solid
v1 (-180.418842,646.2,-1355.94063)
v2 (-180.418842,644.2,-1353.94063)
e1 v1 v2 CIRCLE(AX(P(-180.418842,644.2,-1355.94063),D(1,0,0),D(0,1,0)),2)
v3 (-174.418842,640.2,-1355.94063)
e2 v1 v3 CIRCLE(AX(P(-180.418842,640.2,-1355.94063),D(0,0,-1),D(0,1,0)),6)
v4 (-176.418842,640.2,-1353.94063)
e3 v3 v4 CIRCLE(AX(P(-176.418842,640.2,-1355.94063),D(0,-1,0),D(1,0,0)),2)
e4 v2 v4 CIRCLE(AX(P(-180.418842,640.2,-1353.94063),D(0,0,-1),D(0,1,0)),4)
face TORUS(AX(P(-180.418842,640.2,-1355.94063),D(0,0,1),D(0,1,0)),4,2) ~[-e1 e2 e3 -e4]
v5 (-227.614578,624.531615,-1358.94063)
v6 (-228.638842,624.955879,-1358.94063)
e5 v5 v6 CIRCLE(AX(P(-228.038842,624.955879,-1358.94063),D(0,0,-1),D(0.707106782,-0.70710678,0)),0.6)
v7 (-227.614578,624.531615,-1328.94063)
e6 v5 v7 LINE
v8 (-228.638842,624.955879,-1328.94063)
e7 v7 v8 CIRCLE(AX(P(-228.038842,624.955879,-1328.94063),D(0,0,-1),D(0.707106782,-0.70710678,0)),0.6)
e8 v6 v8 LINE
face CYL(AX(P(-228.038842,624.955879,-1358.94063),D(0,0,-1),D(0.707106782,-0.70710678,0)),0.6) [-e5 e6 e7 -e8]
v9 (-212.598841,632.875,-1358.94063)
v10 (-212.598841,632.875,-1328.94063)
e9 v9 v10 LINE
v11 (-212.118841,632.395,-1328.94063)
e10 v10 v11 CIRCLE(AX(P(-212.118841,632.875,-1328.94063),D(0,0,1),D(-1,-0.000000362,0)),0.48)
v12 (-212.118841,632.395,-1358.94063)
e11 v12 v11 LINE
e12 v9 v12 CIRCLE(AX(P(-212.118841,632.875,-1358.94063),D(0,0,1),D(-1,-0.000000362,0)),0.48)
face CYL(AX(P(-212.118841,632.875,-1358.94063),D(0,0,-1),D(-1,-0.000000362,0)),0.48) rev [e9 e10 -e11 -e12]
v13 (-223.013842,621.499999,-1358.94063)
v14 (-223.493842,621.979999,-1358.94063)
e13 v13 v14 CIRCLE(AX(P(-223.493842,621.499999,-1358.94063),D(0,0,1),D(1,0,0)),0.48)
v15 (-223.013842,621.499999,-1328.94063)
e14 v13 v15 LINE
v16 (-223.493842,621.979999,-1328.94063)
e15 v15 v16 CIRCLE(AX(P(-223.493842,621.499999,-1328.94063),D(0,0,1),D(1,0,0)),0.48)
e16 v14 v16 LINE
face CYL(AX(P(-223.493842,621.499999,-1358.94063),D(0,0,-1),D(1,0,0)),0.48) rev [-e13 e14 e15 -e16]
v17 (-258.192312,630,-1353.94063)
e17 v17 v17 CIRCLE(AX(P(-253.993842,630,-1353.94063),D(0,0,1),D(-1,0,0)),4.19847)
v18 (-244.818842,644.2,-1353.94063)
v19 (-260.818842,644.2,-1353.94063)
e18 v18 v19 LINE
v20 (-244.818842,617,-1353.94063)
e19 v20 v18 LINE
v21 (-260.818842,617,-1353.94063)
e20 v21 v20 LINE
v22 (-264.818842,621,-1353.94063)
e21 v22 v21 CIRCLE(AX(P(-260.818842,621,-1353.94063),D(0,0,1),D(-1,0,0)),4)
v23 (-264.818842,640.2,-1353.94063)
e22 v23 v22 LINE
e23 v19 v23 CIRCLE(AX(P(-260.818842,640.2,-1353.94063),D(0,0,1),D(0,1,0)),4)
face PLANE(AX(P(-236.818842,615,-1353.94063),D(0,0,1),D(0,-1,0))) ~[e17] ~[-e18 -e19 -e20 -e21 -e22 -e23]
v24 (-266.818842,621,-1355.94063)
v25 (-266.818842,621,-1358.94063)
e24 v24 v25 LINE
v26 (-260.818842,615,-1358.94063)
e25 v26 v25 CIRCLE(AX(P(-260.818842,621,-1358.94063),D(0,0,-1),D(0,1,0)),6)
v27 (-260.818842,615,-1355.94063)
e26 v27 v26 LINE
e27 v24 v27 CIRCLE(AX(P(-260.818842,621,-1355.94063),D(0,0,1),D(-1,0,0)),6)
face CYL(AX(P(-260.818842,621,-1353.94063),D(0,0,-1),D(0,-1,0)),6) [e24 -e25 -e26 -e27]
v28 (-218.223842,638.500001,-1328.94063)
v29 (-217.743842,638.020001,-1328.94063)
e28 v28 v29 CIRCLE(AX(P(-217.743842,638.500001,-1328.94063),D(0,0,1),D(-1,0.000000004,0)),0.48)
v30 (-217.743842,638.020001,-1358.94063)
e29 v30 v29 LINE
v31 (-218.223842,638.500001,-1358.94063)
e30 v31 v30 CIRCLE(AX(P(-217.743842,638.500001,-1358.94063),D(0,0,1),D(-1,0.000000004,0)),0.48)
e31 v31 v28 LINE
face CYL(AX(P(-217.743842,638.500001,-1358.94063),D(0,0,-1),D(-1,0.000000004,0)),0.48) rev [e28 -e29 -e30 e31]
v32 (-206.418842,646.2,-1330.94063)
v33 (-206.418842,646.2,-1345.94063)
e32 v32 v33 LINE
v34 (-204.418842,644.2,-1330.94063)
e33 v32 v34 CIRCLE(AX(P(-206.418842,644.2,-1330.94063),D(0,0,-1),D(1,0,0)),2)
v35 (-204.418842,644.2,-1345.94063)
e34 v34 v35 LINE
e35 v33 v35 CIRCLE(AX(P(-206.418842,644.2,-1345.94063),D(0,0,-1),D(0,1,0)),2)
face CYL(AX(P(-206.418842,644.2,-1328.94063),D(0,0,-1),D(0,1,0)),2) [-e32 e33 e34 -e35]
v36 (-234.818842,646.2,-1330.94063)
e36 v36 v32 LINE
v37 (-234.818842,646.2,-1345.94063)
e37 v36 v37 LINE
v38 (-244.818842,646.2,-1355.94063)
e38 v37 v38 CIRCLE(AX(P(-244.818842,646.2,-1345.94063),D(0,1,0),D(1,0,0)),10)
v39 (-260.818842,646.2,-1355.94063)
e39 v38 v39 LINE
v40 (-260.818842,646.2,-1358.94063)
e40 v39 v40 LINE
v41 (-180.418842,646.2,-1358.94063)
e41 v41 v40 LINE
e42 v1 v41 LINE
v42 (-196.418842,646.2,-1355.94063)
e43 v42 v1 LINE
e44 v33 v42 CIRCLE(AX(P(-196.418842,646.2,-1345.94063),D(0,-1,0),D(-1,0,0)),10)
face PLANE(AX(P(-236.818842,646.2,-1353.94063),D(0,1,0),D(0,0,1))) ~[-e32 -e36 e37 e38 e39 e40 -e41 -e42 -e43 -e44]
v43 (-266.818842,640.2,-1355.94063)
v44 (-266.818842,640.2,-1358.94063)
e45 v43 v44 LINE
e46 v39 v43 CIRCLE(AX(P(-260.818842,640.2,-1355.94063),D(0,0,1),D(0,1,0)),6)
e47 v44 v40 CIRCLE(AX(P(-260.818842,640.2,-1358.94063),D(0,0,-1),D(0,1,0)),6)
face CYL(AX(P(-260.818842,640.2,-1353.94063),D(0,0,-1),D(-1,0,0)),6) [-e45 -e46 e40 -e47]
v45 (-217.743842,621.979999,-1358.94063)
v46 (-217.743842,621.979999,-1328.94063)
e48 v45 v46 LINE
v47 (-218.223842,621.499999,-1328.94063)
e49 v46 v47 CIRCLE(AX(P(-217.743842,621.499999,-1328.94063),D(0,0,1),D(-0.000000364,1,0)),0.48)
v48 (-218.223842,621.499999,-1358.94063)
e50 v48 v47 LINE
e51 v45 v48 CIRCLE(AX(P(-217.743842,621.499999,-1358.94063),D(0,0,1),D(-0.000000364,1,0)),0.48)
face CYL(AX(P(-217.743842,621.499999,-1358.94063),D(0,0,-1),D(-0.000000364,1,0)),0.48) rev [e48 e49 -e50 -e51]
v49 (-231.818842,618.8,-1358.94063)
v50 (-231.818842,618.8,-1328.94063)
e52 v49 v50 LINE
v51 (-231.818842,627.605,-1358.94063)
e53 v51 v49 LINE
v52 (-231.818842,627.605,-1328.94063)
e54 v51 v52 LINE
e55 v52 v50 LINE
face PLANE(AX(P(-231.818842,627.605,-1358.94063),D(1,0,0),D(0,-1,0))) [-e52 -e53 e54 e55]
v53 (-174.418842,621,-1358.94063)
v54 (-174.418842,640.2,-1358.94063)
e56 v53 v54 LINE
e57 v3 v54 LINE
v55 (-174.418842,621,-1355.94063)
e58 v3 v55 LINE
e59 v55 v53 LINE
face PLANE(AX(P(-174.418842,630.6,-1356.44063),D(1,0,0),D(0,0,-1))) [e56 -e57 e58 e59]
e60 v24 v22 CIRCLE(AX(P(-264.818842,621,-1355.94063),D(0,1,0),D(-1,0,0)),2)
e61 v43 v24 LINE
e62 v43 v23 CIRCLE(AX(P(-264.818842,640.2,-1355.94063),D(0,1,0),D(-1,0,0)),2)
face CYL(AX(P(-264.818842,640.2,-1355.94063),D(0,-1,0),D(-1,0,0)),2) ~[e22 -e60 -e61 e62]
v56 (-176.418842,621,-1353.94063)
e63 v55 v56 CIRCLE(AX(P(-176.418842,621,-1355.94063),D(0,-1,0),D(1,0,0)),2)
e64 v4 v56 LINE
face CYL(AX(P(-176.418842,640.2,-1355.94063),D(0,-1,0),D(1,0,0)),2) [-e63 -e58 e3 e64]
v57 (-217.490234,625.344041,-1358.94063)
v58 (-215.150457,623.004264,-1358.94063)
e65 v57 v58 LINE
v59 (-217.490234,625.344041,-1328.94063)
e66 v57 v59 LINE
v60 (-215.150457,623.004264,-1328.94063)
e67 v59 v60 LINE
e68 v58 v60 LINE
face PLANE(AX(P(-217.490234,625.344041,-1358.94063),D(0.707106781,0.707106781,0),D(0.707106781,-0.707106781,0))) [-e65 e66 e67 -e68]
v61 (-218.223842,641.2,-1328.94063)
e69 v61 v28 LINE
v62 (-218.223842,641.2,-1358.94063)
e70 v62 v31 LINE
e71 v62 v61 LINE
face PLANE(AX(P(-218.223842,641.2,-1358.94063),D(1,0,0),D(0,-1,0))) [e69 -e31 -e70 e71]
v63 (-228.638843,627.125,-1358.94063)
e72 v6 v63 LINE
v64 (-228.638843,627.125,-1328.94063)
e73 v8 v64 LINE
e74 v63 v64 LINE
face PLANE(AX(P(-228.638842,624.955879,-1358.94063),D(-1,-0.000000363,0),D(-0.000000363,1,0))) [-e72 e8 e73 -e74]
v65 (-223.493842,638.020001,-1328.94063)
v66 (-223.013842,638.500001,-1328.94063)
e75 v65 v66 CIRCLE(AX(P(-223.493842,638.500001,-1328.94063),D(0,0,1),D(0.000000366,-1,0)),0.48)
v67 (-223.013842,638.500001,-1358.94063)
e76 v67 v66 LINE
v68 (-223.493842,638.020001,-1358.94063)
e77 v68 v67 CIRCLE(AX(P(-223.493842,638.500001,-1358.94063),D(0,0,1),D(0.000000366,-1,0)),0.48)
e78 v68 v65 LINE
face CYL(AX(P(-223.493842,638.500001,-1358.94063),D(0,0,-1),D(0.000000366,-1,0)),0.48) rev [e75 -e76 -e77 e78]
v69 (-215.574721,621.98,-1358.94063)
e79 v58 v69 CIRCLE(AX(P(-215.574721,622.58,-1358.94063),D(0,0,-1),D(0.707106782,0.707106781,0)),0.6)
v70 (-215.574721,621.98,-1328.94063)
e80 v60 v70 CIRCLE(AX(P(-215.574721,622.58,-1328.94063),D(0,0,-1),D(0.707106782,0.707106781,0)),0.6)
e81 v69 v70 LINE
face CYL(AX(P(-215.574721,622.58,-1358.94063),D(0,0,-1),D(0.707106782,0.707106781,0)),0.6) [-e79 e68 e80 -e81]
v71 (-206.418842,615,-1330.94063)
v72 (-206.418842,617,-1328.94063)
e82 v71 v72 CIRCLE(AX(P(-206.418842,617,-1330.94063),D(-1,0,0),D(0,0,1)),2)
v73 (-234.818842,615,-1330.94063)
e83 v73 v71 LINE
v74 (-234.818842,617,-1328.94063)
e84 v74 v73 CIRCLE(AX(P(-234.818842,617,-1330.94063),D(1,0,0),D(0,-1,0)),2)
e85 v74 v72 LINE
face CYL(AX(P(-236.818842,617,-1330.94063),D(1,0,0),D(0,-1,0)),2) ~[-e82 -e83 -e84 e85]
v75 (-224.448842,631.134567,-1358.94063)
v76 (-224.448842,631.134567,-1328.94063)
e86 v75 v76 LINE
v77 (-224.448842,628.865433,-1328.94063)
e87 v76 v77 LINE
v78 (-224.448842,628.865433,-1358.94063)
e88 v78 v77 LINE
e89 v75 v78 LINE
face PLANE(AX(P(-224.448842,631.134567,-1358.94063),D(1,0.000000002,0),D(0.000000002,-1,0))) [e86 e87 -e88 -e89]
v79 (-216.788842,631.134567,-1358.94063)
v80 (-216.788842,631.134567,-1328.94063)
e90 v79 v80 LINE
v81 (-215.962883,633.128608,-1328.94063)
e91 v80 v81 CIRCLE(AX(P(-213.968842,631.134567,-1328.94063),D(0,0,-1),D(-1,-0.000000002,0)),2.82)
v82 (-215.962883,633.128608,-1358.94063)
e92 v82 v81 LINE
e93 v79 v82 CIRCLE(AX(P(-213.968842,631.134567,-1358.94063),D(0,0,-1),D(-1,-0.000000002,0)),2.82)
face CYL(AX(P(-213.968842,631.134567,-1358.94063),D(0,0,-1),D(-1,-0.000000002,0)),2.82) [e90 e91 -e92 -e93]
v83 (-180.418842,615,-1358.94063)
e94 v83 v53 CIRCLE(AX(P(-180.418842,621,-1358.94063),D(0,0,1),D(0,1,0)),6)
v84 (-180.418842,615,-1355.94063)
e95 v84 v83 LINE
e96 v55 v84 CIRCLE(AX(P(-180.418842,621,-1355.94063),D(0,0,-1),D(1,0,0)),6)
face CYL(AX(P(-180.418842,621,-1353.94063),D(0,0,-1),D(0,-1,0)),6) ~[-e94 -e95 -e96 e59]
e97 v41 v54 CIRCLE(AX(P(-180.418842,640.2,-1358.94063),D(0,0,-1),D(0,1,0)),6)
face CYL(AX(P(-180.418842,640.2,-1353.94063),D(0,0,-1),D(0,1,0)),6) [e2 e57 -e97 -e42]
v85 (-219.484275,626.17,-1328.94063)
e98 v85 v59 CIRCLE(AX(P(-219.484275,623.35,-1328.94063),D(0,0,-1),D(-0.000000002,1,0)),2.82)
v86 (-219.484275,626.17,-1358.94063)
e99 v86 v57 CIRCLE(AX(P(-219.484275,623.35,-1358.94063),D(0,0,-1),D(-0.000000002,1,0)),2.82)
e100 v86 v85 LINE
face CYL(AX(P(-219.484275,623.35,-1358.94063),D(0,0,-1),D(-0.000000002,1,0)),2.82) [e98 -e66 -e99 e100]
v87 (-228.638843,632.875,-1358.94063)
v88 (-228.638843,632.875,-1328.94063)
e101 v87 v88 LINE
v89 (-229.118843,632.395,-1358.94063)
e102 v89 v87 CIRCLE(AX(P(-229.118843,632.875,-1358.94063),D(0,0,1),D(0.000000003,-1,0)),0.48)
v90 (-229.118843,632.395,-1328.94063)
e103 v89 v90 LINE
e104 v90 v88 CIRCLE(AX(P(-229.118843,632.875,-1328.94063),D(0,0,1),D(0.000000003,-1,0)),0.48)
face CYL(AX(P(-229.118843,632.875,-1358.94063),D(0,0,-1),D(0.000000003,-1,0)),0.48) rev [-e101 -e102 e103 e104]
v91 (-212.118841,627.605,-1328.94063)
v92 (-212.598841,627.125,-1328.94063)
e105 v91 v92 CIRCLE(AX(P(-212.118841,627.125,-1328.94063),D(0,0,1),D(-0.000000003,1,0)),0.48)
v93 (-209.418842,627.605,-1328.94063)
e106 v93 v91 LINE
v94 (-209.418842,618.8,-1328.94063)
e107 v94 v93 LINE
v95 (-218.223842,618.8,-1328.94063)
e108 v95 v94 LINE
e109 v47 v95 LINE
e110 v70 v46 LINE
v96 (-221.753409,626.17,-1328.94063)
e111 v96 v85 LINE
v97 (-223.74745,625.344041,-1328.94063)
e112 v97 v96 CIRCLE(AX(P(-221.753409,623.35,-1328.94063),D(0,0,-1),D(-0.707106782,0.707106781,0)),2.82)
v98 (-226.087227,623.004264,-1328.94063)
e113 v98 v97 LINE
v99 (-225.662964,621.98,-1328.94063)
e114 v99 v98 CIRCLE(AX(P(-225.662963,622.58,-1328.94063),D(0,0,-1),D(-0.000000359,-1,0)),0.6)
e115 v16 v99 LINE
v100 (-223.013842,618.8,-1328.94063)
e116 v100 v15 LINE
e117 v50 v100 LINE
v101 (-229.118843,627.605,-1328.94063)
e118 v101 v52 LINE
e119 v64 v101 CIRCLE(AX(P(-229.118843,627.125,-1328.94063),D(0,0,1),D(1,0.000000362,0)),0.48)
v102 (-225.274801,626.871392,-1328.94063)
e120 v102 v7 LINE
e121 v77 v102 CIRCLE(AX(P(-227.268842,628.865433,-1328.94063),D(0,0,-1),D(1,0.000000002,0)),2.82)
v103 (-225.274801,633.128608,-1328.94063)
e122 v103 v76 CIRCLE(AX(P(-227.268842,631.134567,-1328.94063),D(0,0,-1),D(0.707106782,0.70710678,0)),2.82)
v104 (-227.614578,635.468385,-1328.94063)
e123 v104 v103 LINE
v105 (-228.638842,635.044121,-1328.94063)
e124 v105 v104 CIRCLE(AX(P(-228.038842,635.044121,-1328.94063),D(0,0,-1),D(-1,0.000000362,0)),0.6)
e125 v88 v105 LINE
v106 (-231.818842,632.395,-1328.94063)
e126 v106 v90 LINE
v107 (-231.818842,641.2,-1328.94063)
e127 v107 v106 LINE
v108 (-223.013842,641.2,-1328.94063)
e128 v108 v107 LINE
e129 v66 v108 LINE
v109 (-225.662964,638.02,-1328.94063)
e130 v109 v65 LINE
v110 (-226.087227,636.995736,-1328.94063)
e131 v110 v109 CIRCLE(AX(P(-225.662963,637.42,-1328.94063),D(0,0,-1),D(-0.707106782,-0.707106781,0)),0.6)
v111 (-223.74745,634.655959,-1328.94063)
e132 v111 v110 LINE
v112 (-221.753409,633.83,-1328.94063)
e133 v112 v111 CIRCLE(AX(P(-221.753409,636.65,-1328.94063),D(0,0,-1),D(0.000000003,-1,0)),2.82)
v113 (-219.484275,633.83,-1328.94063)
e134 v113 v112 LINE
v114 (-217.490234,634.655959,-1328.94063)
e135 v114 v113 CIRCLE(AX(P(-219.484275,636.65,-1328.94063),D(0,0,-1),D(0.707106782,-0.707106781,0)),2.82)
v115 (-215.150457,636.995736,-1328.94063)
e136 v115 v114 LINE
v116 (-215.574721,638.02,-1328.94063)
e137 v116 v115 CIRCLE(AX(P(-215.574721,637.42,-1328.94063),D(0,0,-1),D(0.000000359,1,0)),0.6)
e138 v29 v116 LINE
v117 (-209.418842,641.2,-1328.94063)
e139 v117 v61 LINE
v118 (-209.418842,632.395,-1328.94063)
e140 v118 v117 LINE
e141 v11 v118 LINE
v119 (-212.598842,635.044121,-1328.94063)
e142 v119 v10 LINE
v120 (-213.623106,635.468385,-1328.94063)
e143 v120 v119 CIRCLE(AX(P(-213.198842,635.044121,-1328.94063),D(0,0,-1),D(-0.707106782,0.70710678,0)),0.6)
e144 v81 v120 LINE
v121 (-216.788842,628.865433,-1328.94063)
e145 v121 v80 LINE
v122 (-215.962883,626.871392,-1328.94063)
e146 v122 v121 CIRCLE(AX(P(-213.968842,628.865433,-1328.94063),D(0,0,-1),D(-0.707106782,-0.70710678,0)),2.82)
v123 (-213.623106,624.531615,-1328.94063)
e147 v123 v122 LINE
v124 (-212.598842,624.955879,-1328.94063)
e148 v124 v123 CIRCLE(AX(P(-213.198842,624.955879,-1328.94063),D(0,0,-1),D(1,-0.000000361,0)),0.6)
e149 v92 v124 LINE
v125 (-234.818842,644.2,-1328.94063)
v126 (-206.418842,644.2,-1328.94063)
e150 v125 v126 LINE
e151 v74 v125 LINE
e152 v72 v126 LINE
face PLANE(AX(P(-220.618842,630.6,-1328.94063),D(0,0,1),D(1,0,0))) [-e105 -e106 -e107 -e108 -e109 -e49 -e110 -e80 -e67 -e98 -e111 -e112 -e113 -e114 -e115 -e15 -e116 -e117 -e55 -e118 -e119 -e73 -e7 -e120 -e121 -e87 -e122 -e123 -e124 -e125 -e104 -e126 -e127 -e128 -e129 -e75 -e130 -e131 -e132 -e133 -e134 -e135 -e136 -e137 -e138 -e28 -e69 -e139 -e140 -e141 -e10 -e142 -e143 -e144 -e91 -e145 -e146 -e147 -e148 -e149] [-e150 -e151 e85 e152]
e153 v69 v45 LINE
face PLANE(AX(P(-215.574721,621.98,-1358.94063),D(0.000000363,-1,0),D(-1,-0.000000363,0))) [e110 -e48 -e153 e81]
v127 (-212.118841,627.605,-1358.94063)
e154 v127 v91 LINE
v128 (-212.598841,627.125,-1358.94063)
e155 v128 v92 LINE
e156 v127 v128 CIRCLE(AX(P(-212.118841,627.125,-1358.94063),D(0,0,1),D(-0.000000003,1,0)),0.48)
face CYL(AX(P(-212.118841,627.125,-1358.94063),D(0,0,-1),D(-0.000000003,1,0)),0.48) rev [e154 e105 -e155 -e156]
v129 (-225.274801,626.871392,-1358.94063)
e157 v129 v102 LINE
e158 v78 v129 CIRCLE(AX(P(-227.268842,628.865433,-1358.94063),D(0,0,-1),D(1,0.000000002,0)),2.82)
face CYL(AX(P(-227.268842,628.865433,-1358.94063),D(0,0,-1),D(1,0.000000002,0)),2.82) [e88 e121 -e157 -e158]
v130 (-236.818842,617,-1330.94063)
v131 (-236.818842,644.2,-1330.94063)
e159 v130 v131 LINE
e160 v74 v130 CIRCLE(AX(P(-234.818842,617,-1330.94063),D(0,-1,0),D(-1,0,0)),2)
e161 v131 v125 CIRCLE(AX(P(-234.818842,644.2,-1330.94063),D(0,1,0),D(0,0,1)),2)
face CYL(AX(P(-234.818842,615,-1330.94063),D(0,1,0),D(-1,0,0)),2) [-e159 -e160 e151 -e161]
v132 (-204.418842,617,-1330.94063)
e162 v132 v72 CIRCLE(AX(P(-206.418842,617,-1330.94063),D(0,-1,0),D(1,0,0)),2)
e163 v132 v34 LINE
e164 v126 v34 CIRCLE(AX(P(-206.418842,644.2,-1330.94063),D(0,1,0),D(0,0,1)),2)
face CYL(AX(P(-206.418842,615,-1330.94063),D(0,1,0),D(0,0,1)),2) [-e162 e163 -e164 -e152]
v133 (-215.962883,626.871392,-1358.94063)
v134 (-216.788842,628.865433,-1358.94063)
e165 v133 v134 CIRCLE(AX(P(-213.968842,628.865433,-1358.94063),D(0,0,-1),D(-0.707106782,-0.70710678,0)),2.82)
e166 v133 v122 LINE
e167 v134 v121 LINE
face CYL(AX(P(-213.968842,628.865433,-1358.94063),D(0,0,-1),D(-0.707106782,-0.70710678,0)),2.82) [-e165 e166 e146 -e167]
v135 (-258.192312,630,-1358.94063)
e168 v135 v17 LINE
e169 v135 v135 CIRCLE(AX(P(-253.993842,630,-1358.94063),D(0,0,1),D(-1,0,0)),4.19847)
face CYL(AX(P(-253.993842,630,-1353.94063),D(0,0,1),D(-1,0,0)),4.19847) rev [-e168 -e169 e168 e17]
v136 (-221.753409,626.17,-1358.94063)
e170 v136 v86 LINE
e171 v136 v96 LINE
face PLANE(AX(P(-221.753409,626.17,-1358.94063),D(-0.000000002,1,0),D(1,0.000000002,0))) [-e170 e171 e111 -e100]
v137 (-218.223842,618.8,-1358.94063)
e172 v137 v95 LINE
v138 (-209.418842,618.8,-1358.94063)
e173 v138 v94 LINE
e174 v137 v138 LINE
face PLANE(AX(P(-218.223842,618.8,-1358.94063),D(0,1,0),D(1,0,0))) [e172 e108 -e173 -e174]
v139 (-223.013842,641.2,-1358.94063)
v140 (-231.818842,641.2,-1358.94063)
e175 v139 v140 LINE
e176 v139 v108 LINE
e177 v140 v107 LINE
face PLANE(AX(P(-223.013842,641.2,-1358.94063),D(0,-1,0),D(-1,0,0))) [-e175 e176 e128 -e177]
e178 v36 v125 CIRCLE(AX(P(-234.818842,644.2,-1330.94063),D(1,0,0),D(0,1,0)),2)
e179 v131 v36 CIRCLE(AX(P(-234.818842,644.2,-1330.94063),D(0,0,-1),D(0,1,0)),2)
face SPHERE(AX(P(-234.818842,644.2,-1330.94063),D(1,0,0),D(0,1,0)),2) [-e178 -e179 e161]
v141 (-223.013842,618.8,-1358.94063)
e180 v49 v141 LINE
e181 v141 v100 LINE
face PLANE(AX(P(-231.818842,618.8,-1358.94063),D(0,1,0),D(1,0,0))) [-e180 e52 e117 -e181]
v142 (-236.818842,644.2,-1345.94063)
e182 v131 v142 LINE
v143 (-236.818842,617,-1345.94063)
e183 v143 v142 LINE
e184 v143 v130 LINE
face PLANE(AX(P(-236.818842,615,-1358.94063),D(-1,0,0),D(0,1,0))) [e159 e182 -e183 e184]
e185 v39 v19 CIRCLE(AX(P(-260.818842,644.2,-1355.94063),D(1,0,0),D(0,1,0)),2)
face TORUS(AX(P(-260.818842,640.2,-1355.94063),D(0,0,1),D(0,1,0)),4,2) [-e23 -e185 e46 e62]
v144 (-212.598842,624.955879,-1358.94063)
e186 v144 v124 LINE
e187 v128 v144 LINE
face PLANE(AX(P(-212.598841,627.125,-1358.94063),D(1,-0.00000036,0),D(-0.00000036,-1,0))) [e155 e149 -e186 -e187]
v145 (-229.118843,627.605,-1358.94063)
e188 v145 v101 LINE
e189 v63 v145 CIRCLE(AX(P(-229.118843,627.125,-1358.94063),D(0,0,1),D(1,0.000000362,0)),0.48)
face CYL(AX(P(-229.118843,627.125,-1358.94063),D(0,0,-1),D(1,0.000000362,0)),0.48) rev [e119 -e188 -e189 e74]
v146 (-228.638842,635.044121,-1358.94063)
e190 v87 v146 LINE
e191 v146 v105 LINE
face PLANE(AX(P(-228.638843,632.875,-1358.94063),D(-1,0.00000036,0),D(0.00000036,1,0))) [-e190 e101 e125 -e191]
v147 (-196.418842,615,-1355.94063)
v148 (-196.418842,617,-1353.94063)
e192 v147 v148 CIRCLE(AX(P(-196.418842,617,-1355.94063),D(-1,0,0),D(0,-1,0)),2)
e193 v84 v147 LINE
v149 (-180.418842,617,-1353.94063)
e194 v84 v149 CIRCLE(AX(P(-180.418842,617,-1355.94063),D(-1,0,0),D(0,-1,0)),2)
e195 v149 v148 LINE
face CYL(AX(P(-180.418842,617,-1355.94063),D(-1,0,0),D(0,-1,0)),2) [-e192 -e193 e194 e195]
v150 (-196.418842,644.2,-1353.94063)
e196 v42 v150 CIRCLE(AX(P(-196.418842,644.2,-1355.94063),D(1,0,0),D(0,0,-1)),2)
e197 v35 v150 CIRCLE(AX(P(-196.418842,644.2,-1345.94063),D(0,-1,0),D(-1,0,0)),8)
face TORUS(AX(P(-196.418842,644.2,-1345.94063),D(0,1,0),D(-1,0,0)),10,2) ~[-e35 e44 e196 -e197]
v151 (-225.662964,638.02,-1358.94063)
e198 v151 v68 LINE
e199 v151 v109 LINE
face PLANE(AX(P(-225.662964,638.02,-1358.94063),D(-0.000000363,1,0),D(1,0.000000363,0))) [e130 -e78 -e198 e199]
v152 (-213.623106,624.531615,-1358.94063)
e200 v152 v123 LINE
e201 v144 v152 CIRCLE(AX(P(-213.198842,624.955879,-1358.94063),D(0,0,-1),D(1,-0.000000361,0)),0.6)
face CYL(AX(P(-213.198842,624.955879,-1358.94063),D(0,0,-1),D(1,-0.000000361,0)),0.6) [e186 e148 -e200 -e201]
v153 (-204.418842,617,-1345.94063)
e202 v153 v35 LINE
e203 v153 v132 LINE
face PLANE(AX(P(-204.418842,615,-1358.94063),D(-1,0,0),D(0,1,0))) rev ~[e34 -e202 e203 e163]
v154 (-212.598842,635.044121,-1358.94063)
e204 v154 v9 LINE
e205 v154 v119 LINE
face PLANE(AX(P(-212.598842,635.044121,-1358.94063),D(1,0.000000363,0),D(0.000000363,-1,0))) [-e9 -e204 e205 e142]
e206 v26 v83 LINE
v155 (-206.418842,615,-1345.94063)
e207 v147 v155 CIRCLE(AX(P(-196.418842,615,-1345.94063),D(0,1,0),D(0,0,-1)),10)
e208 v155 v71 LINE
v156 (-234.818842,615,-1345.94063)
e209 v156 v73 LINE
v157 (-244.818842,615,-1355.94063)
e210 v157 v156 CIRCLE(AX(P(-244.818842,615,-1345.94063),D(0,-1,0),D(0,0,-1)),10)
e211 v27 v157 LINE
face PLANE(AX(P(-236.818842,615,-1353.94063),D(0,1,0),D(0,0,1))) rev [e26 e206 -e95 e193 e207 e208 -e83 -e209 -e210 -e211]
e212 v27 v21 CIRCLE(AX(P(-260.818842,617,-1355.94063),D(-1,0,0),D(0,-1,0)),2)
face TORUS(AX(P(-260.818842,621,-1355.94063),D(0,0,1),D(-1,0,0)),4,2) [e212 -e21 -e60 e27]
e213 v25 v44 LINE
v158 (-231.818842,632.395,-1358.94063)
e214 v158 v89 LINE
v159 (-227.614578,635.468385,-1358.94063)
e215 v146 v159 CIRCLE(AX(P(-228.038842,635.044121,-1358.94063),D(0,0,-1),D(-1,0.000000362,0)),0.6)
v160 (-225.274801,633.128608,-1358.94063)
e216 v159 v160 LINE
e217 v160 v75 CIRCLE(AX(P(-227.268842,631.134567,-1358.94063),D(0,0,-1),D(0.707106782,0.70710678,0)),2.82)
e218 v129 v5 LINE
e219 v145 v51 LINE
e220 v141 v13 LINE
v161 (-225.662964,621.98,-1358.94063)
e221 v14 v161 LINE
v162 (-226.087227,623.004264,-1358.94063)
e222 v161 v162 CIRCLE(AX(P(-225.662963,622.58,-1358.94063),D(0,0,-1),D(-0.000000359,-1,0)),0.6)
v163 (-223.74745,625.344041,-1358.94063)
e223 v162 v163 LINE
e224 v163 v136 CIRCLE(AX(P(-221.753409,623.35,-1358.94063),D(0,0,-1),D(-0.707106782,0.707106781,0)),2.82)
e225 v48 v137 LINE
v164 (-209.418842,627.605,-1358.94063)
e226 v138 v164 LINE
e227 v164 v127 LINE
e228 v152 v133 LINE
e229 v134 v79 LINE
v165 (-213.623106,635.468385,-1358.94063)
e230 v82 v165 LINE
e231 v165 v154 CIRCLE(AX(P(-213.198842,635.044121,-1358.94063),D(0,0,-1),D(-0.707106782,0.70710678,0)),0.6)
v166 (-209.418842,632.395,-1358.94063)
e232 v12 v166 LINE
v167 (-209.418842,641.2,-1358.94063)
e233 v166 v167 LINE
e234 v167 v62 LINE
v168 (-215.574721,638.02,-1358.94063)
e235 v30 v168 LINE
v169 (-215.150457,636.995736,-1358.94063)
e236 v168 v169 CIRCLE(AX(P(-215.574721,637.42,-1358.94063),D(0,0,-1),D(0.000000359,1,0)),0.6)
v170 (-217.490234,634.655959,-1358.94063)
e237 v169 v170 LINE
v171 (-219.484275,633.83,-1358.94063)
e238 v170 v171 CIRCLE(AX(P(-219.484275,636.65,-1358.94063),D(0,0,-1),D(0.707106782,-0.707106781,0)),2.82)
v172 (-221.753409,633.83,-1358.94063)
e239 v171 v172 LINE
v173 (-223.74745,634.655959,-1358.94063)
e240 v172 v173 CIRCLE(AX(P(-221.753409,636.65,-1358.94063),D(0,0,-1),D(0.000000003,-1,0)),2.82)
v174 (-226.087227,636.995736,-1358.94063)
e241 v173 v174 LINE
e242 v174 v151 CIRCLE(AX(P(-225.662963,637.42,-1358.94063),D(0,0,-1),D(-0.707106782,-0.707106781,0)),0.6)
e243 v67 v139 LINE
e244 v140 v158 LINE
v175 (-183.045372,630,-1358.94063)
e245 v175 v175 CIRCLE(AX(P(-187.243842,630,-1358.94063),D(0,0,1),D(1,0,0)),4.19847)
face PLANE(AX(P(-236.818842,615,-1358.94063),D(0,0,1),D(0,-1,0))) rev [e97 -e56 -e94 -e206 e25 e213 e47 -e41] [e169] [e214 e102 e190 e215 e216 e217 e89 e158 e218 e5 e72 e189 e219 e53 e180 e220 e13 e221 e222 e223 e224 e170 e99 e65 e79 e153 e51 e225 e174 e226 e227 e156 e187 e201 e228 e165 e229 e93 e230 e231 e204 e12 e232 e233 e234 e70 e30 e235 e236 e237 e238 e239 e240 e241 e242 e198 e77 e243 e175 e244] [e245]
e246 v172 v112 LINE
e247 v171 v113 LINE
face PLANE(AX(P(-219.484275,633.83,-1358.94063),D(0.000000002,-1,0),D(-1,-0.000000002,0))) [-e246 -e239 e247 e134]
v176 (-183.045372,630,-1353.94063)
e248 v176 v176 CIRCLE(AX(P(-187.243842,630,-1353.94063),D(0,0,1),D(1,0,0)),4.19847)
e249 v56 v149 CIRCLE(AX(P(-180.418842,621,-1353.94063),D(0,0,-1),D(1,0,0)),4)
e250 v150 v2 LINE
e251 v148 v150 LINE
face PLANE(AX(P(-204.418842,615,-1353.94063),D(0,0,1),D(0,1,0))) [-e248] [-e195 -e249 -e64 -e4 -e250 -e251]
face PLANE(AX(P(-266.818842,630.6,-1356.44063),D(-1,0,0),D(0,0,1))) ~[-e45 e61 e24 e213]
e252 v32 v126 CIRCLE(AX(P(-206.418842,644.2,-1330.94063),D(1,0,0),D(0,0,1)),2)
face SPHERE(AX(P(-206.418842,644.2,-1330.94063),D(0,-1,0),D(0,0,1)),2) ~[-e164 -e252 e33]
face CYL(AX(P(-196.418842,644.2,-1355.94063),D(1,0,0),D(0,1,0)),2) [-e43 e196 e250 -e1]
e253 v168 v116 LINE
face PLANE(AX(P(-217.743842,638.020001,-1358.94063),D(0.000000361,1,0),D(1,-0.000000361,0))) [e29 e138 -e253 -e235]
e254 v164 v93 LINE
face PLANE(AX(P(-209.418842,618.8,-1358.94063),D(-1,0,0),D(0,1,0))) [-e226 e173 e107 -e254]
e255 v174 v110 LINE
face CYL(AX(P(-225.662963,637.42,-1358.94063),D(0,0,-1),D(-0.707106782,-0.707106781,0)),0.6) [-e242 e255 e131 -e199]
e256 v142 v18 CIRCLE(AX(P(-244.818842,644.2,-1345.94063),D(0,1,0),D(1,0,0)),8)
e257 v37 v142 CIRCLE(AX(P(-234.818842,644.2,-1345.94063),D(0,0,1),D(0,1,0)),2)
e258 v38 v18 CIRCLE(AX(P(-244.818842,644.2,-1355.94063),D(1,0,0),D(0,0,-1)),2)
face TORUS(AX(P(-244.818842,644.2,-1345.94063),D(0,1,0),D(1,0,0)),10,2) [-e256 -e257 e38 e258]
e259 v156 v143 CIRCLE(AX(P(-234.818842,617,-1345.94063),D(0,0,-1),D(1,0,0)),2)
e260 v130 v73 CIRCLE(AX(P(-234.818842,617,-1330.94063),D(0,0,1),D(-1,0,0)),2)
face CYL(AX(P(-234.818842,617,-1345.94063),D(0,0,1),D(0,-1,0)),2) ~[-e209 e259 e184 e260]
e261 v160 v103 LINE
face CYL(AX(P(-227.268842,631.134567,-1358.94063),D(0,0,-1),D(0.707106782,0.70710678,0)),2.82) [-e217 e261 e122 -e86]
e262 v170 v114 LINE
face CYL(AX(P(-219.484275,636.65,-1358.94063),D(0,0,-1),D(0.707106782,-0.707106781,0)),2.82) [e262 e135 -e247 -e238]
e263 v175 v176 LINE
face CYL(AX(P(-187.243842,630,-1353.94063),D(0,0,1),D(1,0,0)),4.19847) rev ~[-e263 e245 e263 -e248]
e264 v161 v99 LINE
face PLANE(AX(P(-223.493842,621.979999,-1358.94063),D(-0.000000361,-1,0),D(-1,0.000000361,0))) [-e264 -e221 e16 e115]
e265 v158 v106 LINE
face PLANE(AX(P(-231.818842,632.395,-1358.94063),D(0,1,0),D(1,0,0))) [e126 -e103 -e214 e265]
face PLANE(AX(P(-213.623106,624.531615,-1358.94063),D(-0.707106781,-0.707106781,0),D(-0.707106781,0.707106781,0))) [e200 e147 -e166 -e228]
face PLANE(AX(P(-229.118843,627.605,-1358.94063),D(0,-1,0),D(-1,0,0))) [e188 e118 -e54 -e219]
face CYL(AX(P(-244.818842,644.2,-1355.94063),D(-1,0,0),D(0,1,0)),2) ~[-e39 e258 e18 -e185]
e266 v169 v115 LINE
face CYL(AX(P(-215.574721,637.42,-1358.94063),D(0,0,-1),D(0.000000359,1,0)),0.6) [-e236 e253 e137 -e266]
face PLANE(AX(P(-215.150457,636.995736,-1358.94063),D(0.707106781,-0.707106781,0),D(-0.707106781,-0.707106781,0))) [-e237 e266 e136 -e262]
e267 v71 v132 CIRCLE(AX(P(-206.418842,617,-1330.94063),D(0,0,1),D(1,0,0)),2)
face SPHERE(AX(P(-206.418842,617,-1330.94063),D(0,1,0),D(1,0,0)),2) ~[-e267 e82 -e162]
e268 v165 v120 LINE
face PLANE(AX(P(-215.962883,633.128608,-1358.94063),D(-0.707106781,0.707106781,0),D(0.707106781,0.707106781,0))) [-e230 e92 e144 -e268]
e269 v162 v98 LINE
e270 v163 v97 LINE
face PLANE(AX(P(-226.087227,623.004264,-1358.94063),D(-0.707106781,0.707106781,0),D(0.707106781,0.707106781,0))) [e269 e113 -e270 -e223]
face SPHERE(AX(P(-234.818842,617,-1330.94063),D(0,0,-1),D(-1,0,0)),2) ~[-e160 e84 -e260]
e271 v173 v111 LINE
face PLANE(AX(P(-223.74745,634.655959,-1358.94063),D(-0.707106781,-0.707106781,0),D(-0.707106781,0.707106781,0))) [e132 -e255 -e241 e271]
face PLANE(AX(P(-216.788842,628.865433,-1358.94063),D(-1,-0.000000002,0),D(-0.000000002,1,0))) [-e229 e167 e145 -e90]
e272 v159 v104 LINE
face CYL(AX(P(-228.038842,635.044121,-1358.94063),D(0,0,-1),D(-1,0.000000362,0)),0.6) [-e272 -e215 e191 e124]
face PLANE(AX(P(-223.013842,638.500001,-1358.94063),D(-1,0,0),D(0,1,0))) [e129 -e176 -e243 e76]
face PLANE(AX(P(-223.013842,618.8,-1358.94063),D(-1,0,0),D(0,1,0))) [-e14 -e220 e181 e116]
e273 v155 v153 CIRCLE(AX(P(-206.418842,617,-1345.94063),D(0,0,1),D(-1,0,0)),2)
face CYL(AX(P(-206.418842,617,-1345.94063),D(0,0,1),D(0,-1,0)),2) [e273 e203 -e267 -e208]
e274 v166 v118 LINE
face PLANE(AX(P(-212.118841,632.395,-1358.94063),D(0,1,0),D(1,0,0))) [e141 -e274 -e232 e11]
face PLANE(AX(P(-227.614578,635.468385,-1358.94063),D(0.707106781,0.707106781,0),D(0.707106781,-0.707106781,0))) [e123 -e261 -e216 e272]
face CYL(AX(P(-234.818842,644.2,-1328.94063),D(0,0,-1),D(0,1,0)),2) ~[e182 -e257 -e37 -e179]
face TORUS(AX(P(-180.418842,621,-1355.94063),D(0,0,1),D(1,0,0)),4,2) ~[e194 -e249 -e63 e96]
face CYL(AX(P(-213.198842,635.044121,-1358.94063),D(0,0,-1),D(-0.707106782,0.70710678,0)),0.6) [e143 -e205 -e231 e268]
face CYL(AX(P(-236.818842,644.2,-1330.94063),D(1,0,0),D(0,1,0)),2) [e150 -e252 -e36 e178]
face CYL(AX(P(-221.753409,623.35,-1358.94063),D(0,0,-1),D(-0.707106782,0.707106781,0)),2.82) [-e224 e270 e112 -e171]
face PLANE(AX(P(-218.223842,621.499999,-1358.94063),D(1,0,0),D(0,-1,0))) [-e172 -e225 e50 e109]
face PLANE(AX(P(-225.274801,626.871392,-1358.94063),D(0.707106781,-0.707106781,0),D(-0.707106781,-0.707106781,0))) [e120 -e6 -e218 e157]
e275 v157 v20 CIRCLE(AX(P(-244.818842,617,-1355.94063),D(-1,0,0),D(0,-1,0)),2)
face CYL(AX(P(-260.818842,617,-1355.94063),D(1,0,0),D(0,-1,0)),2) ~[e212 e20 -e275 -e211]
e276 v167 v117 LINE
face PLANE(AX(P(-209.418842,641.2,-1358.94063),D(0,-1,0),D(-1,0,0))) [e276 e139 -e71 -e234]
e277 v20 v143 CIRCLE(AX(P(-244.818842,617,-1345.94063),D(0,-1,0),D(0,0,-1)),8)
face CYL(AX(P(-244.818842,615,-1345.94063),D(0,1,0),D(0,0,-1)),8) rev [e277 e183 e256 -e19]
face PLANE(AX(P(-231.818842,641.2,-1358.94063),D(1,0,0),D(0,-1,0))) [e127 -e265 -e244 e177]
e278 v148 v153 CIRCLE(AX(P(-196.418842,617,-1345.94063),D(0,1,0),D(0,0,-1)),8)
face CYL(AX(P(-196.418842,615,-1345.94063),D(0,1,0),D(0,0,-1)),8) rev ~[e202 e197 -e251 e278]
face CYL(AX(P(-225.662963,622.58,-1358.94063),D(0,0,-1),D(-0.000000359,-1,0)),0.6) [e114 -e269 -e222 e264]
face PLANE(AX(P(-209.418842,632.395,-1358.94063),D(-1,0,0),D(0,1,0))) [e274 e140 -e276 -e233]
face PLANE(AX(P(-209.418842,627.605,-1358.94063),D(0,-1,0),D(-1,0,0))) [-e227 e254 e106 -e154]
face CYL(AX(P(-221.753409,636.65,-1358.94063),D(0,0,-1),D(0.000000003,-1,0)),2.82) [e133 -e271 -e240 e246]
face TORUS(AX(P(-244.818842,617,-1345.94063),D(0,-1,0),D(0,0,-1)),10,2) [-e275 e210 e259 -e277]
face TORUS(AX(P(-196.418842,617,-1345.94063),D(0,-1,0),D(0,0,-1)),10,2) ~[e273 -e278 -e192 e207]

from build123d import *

# Parameters (mm, degrees)
SKETCH2_W           = 32.4
SKETCH2_H           = 31.2
BOSS_EXTRUDE1_DEPTH = 30
SKETCH3_W           = 5
SKETCH3_H           = 31.2
BOSS_EXTRUDE2_DEPTH = 30
SKETCH4_R           = 4.198469776
CUT_EXTRUDE1_DEPTH  = 15
FILLET6_R           = 8
FILLET7_R           = 6
FILLET8_R           = 2


with BuildPart() as part:
    # Sketch2 → Boss-Extrude1 (new body)
    with BuildSketch(Plane.XY.offset(-1358.940630238)):
        with Locations((-220.618842126, 630.6)):
            Rectangle(SKETCH2_W, SKETCH2_H)
        with BuildLine():
            Line((-218.223842126, 639.2), (-218.223842126, 638.500000763))
            ThreePointArc((-218.223842126, 638.500000763), (-218.083253443, 638.160589569), (-217.743842299, 638.020000763))
            Line((-217.743842299, 638.020000763), (-215.574720714, 638.019999981))
            ThreePointArc((-215.574720714, 638.019999981), (-215.020393169, 637.649609941), (-215.150456861, 636.995735913))
            Line((-215.150456861, 636.995735913), (-217.490233892, 634.655958882))
            ThreePointArc((-217.490233892, 634.655958882), (-218.405107733, 634.044659724), (-219.484275009, 633.830000005))
            Line((-219.484275009, 633.830000005), (-221.753409227, 633.83))
            ThreePointArc((-221.753409227, 633.83), (-222.83257651, 634.044659717), (-223.747450356, 634.655958877))
            Line((-223.747450356, 634.655958877), (-226.087227386, 636.995735907))
            ThreePointArc((-226.087227386, 636.995735907), (-226.217291078, 637.649609934), (-225.662963535, 638.019999975))
            Line((-225.662963535, 638.019999975), (-223.493841952, 638.020000763))
            ThreePointArc((-223.493841952, 638.020000763), (-223.15443081, 638.16058957), (-223.013842126, 638.500000763))
            Line((-223.013842126, 638.500000763), (-223.013842126, 639.2))
            Line((-223.013842126, 639.2), (-223.013842126, 641.2))
            Line((-223.013842126, 641.2), (-231.818842126, 641.2))
            Line((-231.818842126, 641.2), (-231.818842126, 632.395))
            Line((-231.818842126, 632.395), (-229.818842126, 632.395))
            Line((-229.818842126, 632.395), (-229.118842889, 632.395))
            ThreePointArc((-229.118842889, 632.395), (-228.779431696, 632.535588684), (-228.638842889, 632.874999827))
            Line((-228.638842889, 632.874999827), (-228.638842108, 635.044121413))
            ThreePointArc((-228.638842108, 635.044121413), (-228.268452067, 635.598448957), (-227.614578039, 635.468385265))
            Line((-227.614578039, 635.468385265), (-225.274801008, 633.128608235))
            ThreePointArc((-225.274801008, 633.128608235), (-224.663501851, 632.213734394), (-224.448842131, 631.134567117))
            Line((-224.448842131, 631.134567117), (-224.448842127, 628.865432899))
            ThreePointArc((-224.448842127, 628.865432899), (-224.663501844, 627.786265617), (-225.274801004, 626.87139177))
            Line((-225.274801004, 626.87139177), (-227.614578033, 624.531614741))
            ThreePointArc((-227.614578033, 624.531614741), (-228.268452061, 624.401551048), (-228.638842102, 624.955878592))
            Line((-228.638842102, 624.955878592), (-228.638842889, 627.125000174))
            ThreePointArc((-228.638842889, 627.125000174), (-228.779431696, 627.464411317), (-229.118842889, 627.605))
            Line((-229.118842889, 627.605), (-229.818842126, 627.605))
            Line((-229.818842126, 627.605), (-231.818842126, 627.605))
            Line((-231.818842126, 627.605), (-231.818842126, 618.8))
            Line((-231.818842126, 618.8), (-223.013842126, 618.8))
            Line((-223.013842126, 618.8), (-223.013842126, 620.8))
            Line((-223.013842126, 620.8), (-223.013842126, 621.499999237))
            ThreePointArc((-223.013842126, 621.499999237), (-223.15443081, 621.839410431), (-223.493841954, 621.979999237))
            Line((-223.493841954, 621.979999237), (-225.662963539, 621.980000019))
            ThreePointArc((-225.662963539, 621.980000019), (-226.217291084, 622.350390059), (-226.087227392, 623.004264087))
            Line((-226.087227392, 623.004264087), (-223.747450361, 625.344041118))
            ThreePointArc((-223.747450361, 625.344041118), (-222.83257652, 625.955340276), (-221.753409244, 626.169999995))
            Line((-221.753409244, 626.169999995), (-219.484275025, 626.17))
            ThreePointArc((-219.484275025, 626.17), (-218.405107743, 625.955340283), (-217.490233897, 625.344041123))
            Line((-217.490233897, 625.344041123), (-215.150456867, 623.004264093))
            ThreePointArc((-215.150456867, 623.004264093), (-215.020393175, 622.350390066), (-215.574720718, 621.980000025))
            Line((-215.574720718, 621.980000025), (-217.743842301, 621.979999237))
            ThreePointArc((-217.743842301, 621.979999237), (-218.083253443, 621.83941043), (-218.223842126, 621.499999237))
            Line((-218.223842126, 621.499999237), (-218.223842126, 620.8))
            Line((-218.223842126, 620.8), (-218.223842126, 618.8))
            Line((-218.223842126, 618.8), (-209.418842126, 618.8))
            Line((-209.418842126, 618.8), (-209.418842126, 627.605))
            Line((-209.418842126, 627.605), (-211.418842126, 627.605))
            Line((-211.418842126, 627.605), (-212.118841364, 627.605))
            ThreePointArc((-212.118841364, 627.605), (-212.458252557, 627.464411316), (-212.598841364, 627.125000173))
            Line((-212.598841364, 627.125000173), (-212.598842145, 624.955878587))
            ThreePointArc((-212.598842145, 624.955878587), (-212.969232185, 624.401551043), (-213.623106214, 624.531614735))
            Line((-213.623106214, 624.531614735), (-215.962883245, 626.871391765))
            ThreePointArc((-215.962883245, 626.871391765), (-216.574182402, 627.786265606), (-216.788842122, 628.865432883))
            Line((-216.788842122, 628.865432883), (-216.788842126, 631.134567101))
            ThreePointArc((-216.788842126, 631.134567101), (-216.574182409, 632.213734383), (-215.962883249, 633.12860823))
            Line((-215.962883249, 633.12860823), (-213.62310622, 635.468385259))
            ThreePointArc((-213.62310622, 635.468385259), (-212.969232192, 635.598448952), (-212.598842151, 635.044121408))
            Line((-212.598842151, 635.044121408), (-212.598841364, 632.874999826))
            ThreePointArc((-212.598841364, 632.874999826), (-212.458252557, 632.535588683), (-212.118841364, 632.395))
            Line((-212.118841364, 632.395), (-211.418842126, 632.395))
            Line((-211.418842126, 632.395), (-209.418842126, 632.395))
            Line((-209.418842126, 632.395), (-209.418842126, 641.2))
            Line((-209.418842126, 641.2), (-218.223842126, 641.2))
            Line((-218.223842126, 641.2), (-218.223842126, 639.2))
        make_face(mode=Mode.SUBTRACT)
    extrude(amount=BOSS_EXTRUDE1_DEPTH)

    # Sketch3 → Boss-Extrude2 (add)
    with BuildSketch(Plane(origin=(-204.418842126, 0, 0), x_dir=(0, 0, -1), z_dir=(1, 0, 0))):
        with Locations((1356.440630238, 630.6)):
            Rectangle(SKETCH3_W, SKETCH3_H)
    boss_extrude2 = extrude(amount=BOSS_EXTRUDE2_DEPTH)

    # Sketch4 → Cut-Extrude1 (cut, symmetric)
    with BuildSketch(Plane.XY.offset(-1353.940630238)):
        with Locations((-187.243842126, 630)):
            Circle(SKETCH4_R)
    cut_extrude1 = extrude(amount=CUT_EXTRUDE1_DEPTH, both=True, mode=Mode.SUBTRACT)

    # Mirror6: Boss-Extrude2 across plane
    add(boss_extrude2.mirror(Plane(origin=(-220.618842126, 0, 0), x_dir=(0, 0, 1), z_dir=(1, 0, 0))))

    # Mirror9: Cut-Extrude1 across plane
    add(cut_extrude1.mirror(Plane(origin=(-220.618842126, 0, 0), x_dir=(0, 0, 1), z_dir=(1, 0, 0))), mode=Mode.SUBTRACT)

    # Fillet6
    fillet6_edges = [part.edges().sort_by_distance(p)[0] for p in [
        (-204.418842126, 630.6, -1353.940630238),
        (-236.818842126, 630.6, -1353.940630238),
    ]]
    fillet(fillet6_edges, radius=FILLET6_R)

    # Fillet7
    fillet7_edges = [part.edges().sort_by_distance(p)[0] for p in [
        (-174.418842126, 646.2, -1356.440630238),
        (-174.418842126, 615, -1356.440630238),
        (-266.818842126, 615, -1356.440630238),
        (-266.818842126, 646.2, -1356.440630238),
    ]]
    fillet(fillet7_edges, radius=FILLET7_R)

    # Fillet8
    fillet8_edges = [part.edges().sort_by_distance(p)[0] for p in [
        (-204.418842126, 630.6, -1328.940630238),
        (-220.618842126, 646.2, -1328.940630238),
        (-239.161987877, 615, -1351.597484488),
        (-239.161987877, 646.2, -1351.597484488),
        (-202.075696376, 615, -1351.597484488),
        (-202.075696376, 646.2, -1351.597484488),
        (-188.418842126, 615, -1353.940630238),
        (-252.818842126, 615, -1353.940630238),
        (-266.818842126, 630.6, -1353.940630238),
        (-252.818842126, 646.2, -1353.940630238),
        (-265.061482814, 644.442640687, -1353.940630238),
        (-265.061482814, 616.757359313, -1353.940630238),
        (-188.418842126, 646.2, -1353.940630238),
        (-174.418842126, 630.6, -1353.940630238),
        (-176.176201439, 644.442640687, -1353.940630238),
        (-176.176201439, 616.757359313, -1353.940630238),
        (-236.818842126, 630.6, -1328.940630238),
        (-236.818842126, 646.2, -1337.440630238),
        (-204.418842126, 646.2, -1337.440630238),
        (-204.418842126, 615, -1337.440630238),
        (-236.818842126, 615, -1337.440630238),
        (-220.618842126, 615, -1328.940630238),
    ]]
    fillet(fillet8_edges, radius=FILLET8_R)


solid = part.part
